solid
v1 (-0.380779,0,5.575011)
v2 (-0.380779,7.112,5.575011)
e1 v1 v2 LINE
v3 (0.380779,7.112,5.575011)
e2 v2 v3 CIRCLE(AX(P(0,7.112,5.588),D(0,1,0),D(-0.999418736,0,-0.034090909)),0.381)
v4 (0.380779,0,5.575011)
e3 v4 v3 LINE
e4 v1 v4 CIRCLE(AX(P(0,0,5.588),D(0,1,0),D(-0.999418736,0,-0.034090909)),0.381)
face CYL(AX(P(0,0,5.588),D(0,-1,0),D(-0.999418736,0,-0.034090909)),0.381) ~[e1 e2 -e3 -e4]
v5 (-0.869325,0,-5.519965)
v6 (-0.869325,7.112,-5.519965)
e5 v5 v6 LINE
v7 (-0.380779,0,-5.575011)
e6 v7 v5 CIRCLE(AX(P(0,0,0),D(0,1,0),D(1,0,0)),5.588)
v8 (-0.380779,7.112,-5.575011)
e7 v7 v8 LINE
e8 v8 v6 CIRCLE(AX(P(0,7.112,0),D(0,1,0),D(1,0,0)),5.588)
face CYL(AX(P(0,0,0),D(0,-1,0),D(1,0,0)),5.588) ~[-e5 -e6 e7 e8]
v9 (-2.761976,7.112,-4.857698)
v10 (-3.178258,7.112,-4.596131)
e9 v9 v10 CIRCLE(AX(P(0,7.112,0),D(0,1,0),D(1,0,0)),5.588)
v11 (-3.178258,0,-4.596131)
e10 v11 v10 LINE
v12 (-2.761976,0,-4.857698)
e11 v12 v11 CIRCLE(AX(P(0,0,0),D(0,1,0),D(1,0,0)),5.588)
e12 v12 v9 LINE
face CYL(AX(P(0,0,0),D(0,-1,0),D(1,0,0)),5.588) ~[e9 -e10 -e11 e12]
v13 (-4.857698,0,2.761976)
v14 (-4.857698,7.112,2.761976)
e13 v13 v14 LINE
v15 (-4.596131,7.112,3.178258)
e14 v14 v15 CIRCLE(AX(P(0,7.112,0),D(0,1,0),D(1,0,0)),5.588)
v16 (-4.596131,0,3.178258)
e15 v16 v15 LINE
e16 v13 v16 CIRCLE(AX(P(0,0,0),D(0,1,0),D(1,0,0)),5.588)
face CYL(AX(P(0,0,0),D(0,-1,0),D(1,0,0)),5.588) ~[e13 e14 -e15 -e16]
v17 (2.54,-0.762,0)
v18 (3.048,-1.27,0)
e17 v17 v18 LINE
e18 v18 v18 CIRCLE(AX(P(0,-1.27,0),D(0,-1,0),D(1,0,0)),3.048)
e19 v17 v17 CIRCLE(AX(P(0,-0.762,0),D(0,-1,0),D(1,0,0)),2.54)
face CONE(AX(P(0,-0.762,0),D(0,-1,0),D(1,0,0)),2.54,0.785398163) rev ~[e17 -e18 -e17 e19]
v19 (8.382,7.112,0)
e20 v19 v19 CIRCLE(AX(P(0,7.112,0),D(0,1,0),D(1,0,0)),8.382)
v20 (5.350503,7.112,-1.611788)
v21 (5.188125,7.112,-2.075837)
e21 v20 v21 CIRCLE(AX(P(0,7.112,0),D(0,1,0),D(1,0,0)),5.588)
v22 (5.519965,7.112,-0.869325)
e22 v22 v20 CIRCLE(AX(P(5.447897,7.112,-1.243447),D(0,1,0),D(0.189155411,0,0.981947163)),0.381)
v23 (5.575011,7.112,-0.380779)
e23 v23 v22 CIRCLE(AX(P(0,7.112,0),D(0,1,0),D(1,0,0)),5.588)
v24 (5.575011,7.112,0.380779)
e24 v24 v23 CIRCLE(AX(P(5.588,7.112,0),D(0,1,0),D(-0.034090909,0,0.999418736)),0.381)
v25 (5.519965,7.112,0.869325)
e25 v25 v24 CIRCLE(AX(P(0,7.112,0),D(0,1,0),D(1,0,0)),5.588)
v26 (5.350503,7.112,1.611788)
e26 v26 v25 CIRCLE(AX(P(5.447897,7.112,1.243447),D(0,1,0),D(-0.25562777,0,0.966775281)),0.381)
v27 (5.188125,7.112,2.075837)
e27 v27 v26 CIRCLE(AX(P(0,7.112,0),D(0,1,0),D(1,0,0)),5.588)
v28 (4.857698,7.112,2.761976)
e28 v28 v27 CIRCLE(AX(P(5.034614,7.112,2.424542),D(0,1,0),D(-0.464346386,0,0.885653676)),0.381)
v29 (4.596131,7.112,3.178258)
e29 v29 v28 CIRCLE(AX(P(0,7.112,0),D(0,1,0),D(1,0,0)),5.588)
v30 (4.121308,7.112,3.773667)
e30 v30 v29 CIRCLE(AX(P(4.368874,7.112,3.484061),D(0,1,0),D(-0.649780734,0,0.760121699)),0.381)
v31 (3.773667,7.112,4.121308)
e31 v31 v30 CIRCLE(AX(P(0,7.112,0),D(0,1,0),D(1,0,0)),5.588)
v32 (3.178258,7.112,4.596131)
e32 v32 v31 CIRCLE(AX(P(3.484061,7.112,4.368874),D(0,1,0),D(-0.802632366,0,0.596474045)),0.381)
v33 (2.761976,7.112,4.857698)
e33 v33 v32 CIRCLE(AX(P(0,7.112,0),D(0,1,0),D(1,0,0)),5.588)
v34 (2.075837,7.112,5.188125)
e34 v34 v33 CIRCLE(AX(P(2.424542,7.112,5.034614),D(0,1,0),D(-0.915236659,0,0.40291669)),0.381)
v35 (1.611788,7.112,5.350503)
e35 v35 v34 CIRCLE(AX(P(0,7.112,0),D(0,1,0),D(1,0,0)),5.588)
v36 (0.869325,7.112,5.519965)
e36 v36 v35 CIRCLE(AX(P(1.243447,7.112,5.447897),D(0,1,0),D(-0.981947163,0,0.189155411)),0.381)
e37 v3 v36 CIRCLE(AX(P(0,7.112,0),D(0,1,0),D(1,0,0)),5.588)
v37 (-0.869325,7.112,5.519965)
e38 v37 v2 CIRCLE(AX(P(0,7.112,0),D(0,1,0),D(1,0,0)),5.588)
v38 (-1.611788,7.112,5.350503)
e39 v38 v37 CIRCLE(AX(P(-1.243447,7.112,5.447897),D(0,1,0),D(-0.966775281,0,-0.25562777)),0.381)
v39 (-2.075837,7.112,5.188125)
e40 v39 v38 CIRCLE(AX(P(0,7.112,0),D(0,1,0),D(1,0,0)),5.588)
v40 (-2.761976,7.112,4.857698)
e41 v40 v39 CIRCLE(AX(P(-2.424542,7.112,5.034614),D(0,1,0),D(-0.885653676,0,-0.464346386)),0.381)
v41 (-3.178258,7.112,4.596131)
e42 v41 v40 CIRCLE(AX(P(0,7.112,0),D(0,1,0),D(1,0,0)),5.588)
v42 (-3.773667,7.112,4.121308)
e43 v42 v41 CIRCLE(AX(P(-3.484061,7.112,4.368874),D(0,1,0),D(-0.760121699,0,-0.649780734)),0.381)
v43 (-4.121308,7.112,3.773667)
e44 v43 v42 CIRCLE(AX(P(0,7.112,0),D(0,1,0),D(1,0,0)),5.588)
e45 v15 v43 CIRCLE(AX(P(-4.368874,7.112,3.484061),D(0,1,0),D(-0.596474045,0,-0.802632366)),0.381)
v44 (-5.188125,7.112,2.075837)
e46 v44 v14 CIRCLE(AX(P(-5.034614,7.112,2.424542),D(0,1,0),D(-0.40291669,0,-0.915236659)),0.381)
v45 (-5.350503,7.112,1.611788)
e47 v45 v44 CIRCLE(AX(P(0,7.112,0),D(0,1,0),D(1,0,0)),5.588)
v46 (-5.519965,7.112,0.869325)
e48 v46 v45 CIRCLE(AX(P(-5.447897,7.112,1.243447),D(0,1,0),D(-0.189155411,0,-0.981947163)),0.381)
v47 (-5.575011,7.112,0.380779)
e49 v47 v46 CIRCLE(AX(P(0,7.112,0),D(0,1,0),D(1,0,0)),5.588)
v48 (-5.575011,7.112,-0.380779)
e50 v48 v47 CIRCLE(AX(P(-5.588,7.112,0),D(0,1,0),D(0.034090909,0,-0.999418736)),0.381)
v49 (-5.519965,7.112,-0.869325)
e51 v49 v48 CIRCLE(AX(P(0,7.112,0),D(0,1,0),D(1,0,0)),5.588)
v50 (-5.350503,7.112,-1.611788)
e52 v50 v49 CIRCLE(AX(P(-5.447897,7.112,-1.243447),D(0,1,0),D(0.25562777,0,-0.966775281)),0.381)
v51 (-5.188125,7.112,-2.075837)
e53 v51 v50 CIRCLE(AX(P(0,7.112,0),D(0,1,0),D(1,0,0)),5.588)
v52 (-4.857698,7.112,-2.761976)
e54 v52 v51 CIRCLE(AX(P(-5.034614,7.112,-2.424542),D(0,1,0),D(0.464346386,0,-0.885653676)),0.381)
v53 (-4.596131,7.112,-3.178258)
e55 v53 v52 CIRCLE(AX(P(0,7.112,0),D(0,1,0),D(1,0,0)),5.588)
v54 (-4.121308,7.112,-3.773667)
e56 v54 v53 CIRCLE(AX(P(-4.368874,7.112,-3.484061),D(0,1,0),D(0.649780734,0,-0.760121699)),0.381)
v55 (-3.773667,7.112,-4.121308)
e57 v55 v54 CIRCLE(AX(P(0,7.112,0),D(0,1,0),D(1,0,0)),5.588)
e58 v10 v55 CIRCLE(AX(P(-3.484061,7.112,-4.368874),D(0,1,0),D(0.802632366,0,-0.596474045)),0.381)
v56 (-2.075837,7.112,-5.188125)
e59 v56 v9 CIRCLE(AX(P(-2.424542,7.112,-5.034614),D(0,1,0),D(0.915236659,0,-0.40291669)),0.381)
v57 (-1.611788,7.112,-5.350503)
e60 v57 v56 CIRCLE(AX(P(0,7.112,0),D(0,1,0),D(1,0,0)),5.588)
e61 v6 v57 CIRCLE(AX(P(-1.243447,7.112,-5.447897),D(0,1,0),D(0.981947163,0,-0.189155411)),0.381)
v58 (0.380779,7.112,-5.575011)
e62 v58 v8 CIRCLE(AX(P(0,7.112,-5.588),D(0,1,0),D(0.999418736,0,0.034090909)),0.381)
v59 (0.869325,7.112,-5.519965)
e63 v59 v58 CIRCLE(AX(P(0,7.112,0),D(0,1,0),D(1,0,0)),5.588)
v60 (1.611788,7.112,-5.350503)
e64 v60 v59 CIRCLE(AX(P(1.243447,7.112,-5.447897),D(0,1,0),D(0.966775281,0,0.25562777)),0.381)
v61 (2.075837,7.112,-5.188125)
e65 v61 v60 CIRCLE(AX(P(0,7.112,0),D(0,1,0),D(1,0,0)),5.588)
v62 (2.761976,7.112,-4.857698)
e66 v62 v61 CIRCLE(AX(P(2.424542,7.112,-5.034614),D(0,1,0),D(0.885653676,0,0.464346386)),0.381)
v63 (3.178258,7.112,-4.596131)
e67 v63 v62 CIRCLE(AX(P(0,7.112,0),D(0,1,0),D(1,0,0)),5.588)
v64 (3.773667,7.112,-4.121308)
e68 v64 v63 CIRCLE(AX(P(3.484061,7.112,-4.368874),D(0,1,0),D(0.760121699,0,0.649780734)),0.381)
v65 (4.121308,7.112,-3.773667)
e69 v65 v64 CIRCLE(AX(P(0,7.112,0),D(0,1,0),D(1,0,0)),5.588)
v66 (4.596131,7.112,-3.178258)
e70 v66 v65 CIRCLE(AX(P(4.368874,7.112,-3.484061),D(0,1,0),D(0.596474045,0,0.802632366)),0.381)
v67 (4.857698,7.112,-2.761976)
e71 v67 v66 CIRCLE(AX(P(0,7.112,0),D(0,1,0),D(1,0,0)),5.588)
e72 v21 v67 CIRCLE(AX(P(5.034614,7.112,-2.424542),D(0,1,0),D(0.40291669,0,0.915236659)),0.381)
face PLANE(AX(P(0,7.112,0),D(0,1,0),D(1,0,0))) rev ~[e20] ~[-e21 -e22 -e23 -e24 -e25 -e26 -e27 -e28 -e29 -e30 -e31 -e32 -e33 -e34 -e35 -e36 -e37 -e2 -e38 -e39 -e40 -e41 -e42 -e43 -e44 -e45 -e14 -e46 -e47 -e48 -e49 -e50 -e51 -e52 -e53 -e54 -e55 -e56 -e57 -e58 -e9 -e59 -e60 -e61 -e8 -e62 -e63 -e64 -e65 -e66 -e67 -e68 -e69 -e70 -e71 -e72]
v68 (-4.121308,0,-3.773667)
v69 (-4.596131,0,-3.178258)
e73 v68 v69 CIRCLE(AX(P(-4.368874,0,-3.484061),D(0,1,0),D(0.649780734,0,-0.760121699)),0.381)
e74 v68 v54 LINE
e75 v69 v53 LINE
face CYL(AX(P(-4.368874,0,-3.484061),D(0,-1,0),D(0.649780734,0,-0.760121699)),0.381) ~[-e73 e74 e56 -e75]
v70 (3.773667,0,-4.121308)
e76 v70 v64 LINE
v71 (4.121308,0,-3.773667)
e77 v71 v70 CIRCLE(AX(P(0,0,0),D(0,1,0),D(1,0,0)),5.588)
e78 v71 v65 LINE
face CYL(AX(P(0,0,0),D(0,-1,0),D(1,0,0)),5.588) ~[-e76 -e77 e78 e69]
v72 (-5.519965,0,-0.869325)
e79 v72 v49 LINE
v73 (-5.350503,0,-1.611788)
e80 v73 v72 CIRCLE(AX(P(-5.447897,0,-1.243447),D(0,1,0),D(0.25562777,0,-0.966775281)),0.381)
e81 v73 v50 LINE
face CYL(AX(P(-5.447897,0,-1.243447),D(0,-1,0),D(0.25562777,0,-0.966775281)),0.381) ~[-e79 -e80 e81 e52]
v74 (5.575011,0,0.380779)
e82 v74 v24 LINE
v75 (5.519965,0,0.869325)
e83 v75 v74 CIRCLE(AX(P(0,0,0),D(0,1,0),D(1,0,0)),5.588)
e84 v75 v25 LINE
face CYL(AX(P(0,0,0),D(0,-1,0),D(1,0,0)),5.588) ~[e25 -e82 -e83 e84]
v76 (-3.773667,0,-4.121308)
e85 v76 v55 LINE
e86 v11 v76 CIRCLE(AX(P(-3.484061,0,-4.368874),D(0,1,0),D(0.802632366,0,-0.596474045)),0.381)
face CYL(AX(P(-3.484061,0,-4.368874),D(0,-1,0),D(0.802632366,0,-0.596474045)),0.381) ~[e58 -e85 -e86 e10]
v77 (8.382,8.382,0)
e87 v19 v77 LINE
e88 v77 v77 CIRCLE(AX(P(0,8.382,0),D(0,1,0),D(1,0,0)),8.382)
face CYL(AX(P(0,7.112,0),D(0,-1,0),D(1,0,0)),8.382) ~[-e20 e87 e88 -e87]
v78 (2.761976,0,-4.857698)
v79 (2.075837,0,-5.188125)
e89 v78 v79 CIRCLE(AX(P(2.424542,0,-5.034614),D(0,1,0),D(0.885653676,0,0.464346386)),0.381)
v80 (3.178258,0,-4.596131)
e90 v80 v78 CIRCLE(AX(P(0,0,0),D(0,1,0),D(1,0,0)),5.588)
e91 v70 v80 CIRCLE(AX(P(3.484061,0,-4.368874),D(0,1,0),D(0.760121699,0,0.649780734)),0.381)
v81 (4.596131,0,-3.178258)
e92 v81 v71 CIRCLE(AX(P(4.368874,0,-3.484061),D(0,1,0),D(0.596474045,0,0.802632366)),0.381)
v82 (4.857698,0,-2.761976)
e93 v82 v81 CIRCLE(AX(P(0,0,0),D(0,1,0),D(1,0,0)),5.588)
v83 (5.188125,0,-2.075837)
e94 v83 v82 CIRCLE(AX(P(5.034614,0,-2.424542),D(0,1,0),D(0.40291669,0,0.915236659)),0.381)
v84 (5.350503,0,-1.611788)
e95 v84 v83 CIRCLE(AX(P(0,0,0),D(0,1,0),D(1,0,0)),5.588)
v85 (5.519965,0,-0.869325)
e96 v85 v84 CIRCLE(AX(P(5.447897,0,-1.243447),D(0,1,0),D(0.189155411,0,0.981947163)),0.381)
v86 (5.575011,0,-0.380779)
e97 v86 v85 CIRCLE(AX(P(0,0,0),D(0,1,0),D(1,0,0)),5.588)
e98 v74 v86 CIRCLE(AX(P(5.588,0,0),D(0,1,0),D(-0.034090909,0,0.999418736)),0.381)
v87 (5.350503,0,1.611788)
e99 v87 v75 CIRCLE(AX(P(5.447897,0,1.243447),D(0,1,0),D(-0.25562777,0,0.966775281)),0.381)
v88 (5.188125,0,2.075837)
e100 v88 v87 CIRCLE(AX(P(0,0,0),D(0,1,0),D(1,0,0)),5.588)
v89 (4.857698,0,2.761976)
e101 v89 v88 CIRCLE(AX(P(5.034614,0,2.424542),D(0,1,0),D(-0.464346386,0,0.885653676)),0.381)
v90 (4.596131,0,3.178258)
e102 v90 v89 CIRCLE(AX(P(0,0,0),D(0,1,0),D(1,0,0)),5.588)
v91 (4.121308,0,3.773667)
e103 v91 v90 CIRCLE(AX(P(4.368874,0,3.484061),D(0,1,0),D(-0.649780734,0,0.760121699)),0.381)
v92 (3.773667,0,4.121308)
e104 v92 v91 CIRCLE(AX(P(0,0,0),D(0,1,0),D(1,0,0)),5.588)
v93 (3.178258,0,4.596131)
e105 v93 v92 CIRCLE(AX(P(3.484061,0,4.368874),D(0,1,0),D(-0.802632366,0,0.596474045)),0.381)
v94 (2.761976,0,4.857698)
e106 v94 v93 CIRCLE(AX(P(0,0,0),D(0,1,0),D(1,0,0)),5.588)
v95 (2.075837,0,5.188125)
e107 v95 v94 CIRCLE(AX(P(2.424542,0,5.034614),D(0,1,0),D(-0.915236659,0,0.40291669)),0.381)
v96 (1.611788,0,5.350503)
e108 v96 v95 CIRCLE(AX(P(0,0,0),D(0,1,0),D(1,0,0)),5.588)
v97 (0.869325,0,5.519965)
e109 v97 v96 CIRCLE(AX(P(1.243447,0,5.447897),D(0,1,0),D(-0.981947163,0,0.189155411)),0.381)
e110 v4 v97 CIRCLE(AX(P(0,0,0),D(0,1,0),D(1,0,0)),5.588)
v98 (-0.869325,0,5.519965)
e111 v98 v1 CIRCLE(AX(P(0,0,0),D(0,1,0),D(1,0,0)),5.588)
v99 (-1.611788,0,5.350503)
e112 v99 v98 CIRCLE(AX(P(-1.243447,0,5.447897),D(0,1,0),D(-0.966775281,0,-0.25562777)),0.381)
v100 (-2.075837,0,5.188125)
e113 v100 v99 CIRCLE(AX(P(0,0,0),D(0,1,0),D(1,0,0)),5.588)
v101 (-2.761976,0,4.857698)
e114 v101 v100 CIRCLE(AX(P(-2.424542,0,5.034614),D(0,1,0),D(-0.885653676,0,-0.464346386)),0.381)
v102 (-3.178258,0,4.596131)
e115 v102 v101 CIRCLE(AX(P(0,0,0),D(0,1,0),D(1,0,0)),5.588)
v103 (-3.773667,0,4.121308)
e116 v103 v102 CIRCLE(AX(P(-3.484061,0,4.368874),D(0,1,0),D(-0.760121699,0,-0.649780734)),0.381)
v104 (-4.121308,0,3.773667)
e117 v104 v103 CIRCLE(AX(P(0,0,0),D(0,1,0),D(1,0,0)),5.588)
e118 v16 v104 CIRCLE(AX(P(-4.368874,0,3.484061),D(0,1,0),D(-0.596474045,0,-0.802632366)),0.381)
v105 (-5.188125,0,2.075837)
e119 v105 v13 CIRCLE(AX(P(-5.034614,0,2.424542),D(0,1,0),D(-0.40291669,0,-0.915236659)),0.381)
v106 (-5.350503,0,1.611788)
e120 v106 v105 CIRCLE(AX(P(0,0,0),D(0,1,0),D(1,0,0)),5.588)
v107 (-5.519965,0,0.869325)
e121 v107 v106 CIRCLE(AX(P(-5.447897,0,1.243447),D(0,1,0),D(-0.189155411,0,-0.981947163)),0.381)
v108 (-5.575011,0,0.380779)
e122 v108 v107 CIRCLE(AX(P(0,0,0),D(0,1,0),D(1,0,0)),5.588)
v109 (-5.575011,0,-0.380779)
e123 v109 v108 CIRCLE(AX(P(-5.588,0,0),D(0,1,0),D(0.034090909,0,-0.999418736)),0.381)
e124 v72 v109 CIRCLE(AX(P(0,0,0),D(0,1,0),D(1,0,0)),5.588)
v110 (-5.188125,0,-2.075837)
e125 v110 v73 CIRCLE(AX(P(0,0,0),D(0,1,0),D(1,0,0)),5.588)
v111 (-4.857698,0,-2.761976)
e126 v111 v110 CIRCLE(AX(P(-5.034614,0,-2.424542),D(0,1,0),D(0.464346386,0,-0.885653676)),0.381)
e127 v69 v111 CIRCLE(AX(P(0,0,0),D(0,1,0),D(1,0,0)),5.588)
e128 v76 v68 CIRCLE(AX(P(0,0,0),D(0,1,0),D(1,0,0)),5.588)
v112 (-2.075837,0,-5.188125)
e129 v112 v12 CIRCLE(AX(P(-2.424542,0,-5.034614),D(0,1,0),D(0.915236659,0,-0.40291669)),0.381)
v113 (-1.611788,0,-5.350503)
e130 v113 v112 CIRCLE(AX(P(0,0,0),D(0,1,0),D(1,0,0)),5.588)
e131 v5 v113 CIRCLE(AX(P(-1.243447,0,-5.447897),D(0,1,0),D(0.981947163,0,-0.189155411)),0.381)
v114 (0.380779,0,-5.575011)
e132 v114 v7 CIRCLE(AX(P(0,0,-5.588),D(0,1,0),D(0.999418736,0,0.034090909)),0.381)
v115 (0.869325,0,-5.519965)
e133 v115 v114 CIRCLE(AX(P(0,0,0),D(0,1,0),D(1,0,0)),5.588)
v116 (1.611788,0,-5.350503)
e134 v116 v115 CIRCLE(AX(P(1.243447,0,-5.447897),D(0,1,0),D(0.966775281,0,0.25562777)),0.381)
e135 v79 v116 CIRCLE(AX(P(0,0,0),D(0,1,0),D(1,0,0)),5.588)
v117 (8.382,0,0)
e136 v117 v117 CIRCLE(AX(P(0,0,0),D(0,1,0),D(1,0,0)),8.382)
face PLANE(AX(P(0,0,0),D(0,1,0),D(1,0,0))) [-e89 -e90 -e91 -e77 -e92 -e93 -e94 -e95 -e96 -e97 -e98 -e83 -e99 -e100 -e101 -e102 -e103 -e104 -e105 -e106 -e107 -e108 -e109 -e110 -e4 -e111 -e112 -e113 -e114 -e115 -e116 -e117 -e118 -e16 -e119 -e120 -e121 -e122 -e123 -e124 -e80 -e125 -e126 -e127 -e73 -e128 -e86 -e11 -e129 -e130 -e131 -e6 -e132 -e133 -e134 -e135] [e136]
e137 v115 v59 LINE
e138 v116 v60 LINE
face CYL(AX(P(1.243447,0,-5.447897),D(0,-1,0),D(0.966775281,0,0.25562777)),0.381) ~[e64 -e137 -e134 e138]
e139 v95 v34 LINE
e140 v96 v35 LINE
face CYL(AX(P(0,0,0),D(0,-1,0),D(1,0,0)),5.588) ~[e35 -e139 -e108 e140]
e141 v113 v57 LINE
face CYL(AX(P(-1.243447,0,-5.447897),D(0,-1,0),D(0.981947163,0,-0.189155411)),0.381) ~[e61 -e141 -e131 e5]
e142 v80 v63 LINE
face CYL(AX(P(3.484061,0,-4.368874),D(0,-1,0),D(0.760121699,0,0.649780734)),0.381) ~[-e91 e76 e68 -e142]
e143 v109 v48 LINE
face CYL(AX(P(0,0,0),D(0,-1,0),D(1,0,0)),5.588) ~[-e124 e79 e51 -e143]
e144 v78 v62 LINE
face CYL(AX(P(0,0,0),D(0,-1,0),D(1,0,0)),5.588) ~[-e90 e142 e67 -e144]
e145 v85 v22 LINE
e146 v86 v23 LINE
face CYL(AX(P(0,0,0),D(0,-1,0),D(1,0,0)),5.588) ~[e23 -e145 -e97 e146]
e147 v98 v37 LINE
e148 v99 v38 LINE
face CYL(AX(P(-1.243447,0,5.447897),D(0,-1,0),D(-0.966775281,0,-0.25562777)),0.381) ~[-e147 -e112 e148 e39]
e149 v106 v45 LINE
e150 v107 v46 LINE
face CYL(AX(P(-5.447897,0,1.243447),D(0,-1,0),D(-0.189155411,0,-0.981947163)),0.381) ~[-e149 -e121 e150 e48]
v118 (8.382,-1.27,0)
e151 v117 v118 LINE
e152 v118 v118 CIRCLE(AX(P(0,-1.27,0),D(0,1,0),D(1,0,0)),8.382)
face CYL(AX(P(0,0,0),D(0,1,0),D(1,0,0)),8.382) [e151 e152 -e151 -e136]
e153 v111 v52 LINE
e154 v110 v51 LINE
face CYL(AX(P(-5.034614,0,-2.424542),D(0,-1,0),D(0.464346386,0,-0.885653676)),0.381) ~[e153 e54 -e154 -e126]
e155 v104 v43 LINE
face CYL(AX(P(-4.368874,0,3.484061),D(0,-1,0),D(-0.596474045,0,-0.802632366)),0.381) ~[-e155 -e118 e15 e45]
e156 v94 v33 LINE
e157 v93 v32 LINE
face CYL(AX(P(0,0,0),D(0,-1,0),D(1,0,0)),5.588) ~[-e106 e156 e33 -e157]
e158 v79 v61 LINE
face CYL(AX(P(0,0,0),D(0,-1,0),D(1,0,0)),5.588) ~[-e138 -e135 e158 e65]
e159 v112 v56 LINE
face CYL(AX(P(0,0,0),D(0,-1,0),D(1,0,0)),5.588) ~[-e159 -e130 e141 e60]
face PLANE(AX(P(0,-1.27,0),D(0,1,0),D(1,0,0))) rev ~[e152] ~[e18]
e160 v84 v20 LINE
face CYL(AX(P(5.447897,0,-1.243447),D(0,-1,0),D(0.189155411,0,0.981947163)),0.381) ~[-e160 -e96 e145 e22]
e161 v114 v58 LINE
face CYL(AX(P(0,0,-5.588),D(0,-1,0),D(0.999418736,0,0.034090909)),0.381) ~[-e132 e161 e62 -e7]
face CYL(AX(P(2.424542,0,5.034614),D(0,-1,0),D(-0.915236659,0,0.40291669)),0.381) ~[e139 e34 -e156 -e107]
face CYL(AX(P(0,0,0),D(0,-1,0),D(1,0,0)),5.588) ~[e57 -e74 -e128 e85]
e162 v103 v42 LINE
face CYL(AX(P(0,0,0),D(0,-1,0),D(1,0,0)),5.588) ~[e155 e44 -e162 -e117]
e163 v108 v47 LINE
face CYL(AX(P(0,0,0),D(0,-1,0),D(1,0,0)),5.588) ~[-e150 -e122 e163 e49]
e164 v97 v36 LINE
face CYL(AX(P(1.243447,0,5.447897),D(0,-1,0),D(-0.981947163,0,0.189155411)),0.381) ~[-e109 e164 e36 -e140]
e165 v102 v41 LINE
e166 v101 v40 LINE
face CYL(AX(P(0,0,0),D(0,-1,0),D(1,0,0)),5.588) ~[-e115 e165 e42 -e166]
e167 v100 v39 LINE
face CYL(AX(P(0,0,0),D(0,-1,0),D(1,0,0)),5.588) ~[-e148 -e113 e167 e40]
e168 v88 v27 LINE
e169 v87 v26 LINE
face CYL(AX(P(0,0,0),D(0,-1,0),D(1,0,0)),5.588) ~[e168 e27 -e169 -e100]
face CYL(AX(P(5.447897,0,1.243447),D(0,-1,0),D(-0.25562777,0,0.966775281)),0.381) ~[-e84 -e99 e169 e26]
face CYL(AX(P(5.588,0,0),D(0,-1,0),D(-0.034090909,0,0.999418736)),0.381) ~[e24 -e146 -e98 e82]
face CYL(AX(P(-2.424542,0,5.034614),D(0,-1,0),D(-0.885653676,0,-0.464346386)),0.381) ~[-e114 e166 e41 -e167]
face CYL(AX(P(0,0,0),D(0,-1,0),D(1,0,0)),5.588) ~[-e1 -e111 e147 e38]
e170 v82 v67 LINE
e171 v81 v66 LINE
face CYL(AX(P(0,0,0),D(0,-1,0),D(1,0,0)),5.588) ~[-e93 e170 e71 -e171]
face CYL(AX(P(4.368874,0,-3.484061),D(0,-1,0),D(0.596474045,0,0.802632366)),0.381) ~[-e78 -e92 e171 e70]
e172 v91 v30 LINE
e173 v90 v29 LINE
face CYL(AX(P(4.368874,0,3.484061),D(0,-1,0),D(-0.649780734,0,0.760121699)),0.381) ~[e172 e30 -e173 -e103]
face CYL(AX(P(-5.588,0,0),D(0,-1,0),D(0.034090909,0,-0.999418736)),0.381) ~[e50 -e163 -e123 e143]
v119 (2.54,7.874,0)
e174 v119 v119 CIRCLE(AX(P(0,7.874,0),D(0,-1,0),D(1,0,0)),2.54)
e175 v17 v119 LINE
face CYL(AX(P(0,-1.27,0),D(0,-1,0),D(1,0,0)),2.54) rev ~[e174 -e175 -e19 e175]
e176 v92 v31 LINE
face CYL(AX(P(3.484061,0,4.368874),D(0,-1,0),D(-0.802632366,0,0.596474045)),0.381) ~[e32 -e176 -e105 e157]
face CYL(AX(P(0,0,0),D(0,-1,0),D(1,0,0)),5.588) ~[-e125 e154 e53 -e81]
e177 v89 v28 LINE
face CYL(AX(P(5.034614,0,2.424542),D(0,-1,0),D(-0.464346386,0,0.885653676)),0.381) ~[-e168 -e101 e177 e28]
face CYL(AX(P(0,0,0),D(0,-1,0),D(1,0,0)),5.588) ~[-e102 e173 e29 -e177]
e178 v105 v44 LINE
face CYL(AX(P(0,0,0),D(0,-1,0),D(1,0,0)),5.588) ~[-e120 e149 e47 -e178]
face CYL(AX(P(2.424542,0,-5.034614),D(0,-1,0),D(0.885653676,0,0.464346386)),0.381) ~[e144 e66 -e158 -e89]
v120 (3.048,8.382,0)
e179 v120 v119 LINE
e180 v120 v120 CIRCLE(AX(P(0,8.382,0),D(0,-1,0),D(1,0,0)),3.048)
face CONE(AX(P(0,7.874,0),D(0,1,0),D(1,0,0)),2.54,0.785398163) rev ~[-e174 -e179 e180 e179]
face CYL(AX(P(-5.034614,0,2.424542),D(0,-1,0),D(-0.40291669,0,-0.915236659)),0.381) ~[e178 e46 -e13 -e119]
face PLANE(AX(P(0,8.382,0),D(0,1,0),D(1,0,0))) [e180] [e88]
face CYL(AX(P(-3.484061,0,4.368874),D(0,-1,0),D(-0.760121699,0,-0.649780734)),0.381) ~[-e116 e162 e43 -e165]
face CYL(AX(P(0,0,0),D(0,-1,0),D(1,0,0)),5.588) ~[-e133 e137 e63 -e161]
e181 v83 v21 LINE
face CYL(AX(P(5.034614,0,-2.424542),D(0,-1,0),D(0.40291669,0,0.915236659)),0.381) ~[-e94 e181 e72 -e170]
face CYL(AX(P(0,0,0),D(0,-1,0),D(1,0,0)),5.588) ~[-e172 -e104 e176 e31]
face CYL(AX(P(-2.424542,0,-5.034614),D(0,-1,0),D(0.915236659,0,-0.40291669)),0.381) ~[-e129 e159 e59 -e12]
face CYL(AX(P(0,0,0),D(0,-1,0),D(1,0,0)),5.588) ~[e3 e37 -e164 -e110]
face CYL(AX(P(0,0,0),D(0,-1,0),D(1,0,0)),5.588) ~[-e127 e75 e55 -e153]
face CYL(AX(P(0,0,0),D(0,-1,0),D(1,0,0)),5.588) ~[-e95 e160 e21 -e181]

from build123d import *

# Parameters (mm, degrees)
SKETCH1_R               = 8.382
BOSS_EXTRUDE1_DEPTH     = 1.27
SKETCH2_R               = 5.588
BOSS_EXTRUDE2_DEPTH     = 7.112
SKETCH3_R               = 8.382
BOSS_EXTRUDE3_DEPTH     = 1.27
SKETCH4_R               = 2.54
CUT_EXTRUDE1_DEPTH      = 1
CUT_EXTRUDE1_DEPTH_BACK = 10.652
CHAMFER1_SIZE           = 0.508


with BuildPart() as part:
    # Sketch1 → Boss-Extrude1 (new body)
    with BuildSketch(Plane(origin=(0, 0, 0), x_dir=(1, 0, 0), z_dir=(0, 1, 0))):
        Circle(SKETCH1_R)
    extrude(amount=-BOSS_EXTRUDE1_DEPTH)

    # Sketch2 → Boss-Extrude2 (add)
    with BuildSketch(Plane(origin=(0, 0, 0), x_dir=(1, 0, 0), z_dir=(0, 1, 0))):
        with BuildLine():
            ThreePointArc((-4.121307864, 3.77366738), (-4.666752119, 3.721610627), (-4.596130935, 3.178258081))
            ThreePointArc((-4.596130935, 3.178258081), (-4.368874324, 3.484061013), (-4.121307864, 3.77366738))
        make_face()
        with BuildLine():
            ThreePointArc((-4.857698061, 2.761976385), (-5.377883173, 2.589852039), (-5.188125293, 2.075837167))
            ThreePointArc((-5.188125293, 2.075837167), (-5.034614034, 2.424542334), (-4.857698061, 2.761976385))
        make_face()
        with BuildLine():
            ThreePointArc((-5.350502993, 1.611788361), (-5.819344708, 1.328227455), (-5.519965385, 0.86932511))
            ThreePointArc((-5.519965385, 0.86932511), (-5.447897173, 1.243446979), (-5.350502993, 1.611788361))
        make_face()
        with BuildLine():
            ThreePointArc((-5.575011364, 0.380778538), (-5.969, 0), (-5.575011364, -0.380778538))
            ThreePointArc((-5.575011364, -0.380778538), (-5.588, 0), (-5.575011364, 0.380778538))
        make_face()
        with BuildLine():
            ThreePointArc((-5.350502993, -1.611788361), (-5.447897173, -1.243446979), (-5.519965385, -0.86932511))
            ThreePointArc((-5.519965385, -0.86932511), (-5.819344708, -1.328227455), (-5.350502993, -1.611788361))
        make_face()
        with BuildLine():
            ThreePointArc((-4.857698061, -2.761976385), (-5.034614034, -2.424542334), (-5.188125293, -2.075837167))
            ThreePointArc((-5.188125293, -2.075837167), (-5.377883173, -2.589852039), (-4.857698061, -2.761976385))
        make_face()
        with BuildLine():
            ThreePointArc((-4.121307864, -3.77366738), (-4.368874324, -3.484061013), (-4.596130935, -3.178258081))
            ThreePointArc((-4.596130935, -3.178258081), (-4.666752119, -3.721610627), (-4.121307864, -3.77366738))
        make_face()
        with BuildLine():
            ThreePointArc((-2.075837167, -5.188125293), (-2.424542334, -5.034614034), (-2.761976385, -4.857698061))
            ThreePointArc((-2.761976385, -4.857698061), (-2.589852039, -5.377883173), (-2.075837167, -5.188125293))
        make_face()
        with BuildLine():
            ThreePointArc((-0.86932511, -5.519965385), (-1.243446979, -5.447897173), (-1.611788361, -5.350502993))
            ThreePointArc((-1.611788361, -5.350502993), (-1.328227455, -5.819344708), (-0.86932511, -5.519965385))
        make_face()
        with BuildLine():
            ThreePointArc((2.761976385, -4.857698061), (2.424542334, -5.034614034), (2.075837167, -5.188125293))
            ThreePointArc((2.075837167, -5.188125293), (2.589852039, -5.377883173), (2.761976385, -4.857698061))
        make_face()
        with BuildLine():
            ThreePointArc((3.77366738, -4.121307864), (3.484061013, -4.368874324), (3.178258081, -4.596130935))
            ThreePointArc((3.178258081, -4.596130935), (3.721610627, -4.666752119), (3.77366738, -4.121307864))
        make_face()
        with BuildLine():
            ThreePointArc((4.596130935, -3.178258081), (4.368874324, -3.484061013), (4.121307864, -3.77366738))
            ThreePointArc((4.121307864, -3.77366738), (4.666752119, -3.721610627), (4.596130935, -3.178258081))
        make_face()
        with BuildLine():
            ThreePointArc((5.188125293, -2.075837167), (5.034614034, -2.424542334), (4.857698061, -2.761976385))
            ThreePointArc((4.857698061, -2.761976385), (5.377883173, -2.589852039), (5.188125293, -2.075837167))
        make_face()
        with BuildLine():
            ThreePointArc((5.588, 0), (5.584751897, -0.1905), (5.575011364, -0.380778538))
            ThreePointArc((5.575011364, -0.380778538), (5.969, 0), (5.575011364, 0.380778538))
            ThreePointArc((5.575011364, 0.380778538), (5.584751897, 0.1905), (5.588, 0))
        make_face()
        with BuildLine():
            ThreePointArc((5.519965385, 0.86932511), (5.819344708, 1.328227455), (5.350502993, 1.611788361))
            ThreePointArc((5.350502993, 1.611788361), (5.447897173, 1.243446979), (5.519965385, 0.86932511))
        make_face()
        with BuildLine():
            ThreePointArc((5.188125293, 2.075837167), (5.377883173, 2.589852039), (4.857698061, 2.761976385))
            ThreePointArc((4.857698061, 2.761976385), (5.034614034, 2.424542334), (5.188125293, 2.075837167))
        make_face()
        with BuildLine():
            ThreePointArc((4.596130935, 3.178258081), (4.666752119, 3.721610627), (4.121307864, 3.77366738))
            ThreePointArc((4.121307864, 3.77366738), (4.368874324, 3.484061013), (4.596130935, 3.178258081))
        make_face()
        with BuildLine():
            ThreePointArc((3.77366738, 4.121307864), (3.721610627, 4.666752119), (3.178258081, 4.596130935))
            ThreePointArc((3.178258081, 4.596130935), (3.484061013, 4.368874324), (3.77366738, 4.121307864))
        make_face()
        with BuildLine():
            ThreePointArc((2.761976385, 4.857698061), (2.589852039, 5.377883173), (2.075837167, 5.188125293))
            ThreePointArc((2.075837167, 5.188125293), (2.424542334, 5.034614034), (2.761976385, 4.857698061))
        make_face()
        with BuildLine():
            ThreePointArc((1.611788361, 5.350502993), (1.328227455, 5.819344708), (0.86932511, 5.519965385))
            ThreePointArc((0.86932511, 5.519965385), (1.243446979, 5.447897173), (1.611788361, 5.350502993))
        make_face()
        with BuildLine():
            ThreePointArc((0.380778538, 5.575011364), (0, 5.969), (-0.380778538, 5.575011364))
            ThreePointArc((-0.380778538, 5.575011364), (0, 5.588), (0.380778538, 5.575011364))
        make_face()
        with BuildLine():
            ThreePointArc((-0.86932511, 5.519965385), (-1.328227455, 5.819344708), (-1.611788361, 5.350502993))
            ThreePointArc((-1.611788361, 5.350502993), (-1.243446979, 5.447897173), (-0.86932511, 5.519965385))
        make_face()
        with BuildLine():
            ThreePointArc((-2.075837167, 5.188125293), (-2.589852039, 5.377883173), (-2.761976385, 4.857698061))
            ThreePointArc((-2.761976385, 4.857698061), (-2.424542334, 5.034614034), (-2.075837167, 5.188125293))
        make_face()
        with BuildLine():
            ThreePointArc((-3.178258081, 4.596130935), (-3.721610627, 4.666752119), (-3.77366738, 4.121307864))
            ThreePointArc((-3.77366738, 4.121307864), (-3.484061013, 4.368874324), (-3.178258081, 4.596130935))
        make_face()
        with BuildLine():
            ThreePointArc((-3.178258081, -4.596130935), (-3.484061013, -4.368874324), (-3.77366738, -4.121307864))
            ThreePointArc((-3.77366738, -4.121307864), (-3.721610627, -4.666752119), (-3.178258081, -4.596130935))
        make_face()
        with BuildLine():
            ThreePointArc((0.380778538, -5.575011364), (0, -5.588), (-0.380778538, -5.575011364))
            ThreePointArc((-0.380778538, -5.575011364), (0, -5.969), (0.380778538, -5.575011364))
        make_face()
        with BuildLine():
            ThreePointArc((1.611788361, -5.350502993), (1.243446979, -5.447897173), (0.86932511, -5.519965385))
            ThreePointArc((0.86932511, -5.519965385), (1.328227455, -5.819344708), (1.611788361, -5.350502993))
        make_face()
        with BuildLine():
            ThreePointArc((5.519965385, -0.86932511), (5.447897173, -1.243446979), (5.350502993, -1.611788361))
            ThreePointArc((5.350502993, -1.611788361), (5.819344708, -1.328227455), (5.519965385, -0.86932511))
        make_face()
        Circle(SKETCH2_R)
    extrude(amount=BOSS_EXTRUDE2_DEPTH)

    # Sketch3 → Boss-Extrude3 (add)
    with BuildSketch(Plane(origin=(0, 7.112, 0), x_dir=(1, 0, 0), z_dir=(0, 1, 0))):
        Circle(SKETCH3_R)
    extrude(amount=BOSS_EXTRUDE3_DEPTH)

    # Sketch4 → Cut-Extrude1 (cut, two sides)
    with BuildSketch(Plane.XZ.offset(1.27)) as cut_extrude1_sk:
        Circle(SKETCH4_R)
    extrude(amount=CUT_EXTRUDE1_DEPTH, mode=Mode.SUBTRACT)
    extrude(cut_extrude1_sk.sketch, amount=-CUT_EXTRUDE1_DEPTH_BACK, mode=Mode.SUBTRACT)

    # Chamfer1
    chamfer1_edges = [part.edges().sort_by_distance(p)[0] for p in [
        (-2.54, 8.382, 0),
        (-2.54, -1.27, 0),
    ]]
    chamfer(chamfer1_edges, length=CHAMFER1_SIZE)


solid = part.part
